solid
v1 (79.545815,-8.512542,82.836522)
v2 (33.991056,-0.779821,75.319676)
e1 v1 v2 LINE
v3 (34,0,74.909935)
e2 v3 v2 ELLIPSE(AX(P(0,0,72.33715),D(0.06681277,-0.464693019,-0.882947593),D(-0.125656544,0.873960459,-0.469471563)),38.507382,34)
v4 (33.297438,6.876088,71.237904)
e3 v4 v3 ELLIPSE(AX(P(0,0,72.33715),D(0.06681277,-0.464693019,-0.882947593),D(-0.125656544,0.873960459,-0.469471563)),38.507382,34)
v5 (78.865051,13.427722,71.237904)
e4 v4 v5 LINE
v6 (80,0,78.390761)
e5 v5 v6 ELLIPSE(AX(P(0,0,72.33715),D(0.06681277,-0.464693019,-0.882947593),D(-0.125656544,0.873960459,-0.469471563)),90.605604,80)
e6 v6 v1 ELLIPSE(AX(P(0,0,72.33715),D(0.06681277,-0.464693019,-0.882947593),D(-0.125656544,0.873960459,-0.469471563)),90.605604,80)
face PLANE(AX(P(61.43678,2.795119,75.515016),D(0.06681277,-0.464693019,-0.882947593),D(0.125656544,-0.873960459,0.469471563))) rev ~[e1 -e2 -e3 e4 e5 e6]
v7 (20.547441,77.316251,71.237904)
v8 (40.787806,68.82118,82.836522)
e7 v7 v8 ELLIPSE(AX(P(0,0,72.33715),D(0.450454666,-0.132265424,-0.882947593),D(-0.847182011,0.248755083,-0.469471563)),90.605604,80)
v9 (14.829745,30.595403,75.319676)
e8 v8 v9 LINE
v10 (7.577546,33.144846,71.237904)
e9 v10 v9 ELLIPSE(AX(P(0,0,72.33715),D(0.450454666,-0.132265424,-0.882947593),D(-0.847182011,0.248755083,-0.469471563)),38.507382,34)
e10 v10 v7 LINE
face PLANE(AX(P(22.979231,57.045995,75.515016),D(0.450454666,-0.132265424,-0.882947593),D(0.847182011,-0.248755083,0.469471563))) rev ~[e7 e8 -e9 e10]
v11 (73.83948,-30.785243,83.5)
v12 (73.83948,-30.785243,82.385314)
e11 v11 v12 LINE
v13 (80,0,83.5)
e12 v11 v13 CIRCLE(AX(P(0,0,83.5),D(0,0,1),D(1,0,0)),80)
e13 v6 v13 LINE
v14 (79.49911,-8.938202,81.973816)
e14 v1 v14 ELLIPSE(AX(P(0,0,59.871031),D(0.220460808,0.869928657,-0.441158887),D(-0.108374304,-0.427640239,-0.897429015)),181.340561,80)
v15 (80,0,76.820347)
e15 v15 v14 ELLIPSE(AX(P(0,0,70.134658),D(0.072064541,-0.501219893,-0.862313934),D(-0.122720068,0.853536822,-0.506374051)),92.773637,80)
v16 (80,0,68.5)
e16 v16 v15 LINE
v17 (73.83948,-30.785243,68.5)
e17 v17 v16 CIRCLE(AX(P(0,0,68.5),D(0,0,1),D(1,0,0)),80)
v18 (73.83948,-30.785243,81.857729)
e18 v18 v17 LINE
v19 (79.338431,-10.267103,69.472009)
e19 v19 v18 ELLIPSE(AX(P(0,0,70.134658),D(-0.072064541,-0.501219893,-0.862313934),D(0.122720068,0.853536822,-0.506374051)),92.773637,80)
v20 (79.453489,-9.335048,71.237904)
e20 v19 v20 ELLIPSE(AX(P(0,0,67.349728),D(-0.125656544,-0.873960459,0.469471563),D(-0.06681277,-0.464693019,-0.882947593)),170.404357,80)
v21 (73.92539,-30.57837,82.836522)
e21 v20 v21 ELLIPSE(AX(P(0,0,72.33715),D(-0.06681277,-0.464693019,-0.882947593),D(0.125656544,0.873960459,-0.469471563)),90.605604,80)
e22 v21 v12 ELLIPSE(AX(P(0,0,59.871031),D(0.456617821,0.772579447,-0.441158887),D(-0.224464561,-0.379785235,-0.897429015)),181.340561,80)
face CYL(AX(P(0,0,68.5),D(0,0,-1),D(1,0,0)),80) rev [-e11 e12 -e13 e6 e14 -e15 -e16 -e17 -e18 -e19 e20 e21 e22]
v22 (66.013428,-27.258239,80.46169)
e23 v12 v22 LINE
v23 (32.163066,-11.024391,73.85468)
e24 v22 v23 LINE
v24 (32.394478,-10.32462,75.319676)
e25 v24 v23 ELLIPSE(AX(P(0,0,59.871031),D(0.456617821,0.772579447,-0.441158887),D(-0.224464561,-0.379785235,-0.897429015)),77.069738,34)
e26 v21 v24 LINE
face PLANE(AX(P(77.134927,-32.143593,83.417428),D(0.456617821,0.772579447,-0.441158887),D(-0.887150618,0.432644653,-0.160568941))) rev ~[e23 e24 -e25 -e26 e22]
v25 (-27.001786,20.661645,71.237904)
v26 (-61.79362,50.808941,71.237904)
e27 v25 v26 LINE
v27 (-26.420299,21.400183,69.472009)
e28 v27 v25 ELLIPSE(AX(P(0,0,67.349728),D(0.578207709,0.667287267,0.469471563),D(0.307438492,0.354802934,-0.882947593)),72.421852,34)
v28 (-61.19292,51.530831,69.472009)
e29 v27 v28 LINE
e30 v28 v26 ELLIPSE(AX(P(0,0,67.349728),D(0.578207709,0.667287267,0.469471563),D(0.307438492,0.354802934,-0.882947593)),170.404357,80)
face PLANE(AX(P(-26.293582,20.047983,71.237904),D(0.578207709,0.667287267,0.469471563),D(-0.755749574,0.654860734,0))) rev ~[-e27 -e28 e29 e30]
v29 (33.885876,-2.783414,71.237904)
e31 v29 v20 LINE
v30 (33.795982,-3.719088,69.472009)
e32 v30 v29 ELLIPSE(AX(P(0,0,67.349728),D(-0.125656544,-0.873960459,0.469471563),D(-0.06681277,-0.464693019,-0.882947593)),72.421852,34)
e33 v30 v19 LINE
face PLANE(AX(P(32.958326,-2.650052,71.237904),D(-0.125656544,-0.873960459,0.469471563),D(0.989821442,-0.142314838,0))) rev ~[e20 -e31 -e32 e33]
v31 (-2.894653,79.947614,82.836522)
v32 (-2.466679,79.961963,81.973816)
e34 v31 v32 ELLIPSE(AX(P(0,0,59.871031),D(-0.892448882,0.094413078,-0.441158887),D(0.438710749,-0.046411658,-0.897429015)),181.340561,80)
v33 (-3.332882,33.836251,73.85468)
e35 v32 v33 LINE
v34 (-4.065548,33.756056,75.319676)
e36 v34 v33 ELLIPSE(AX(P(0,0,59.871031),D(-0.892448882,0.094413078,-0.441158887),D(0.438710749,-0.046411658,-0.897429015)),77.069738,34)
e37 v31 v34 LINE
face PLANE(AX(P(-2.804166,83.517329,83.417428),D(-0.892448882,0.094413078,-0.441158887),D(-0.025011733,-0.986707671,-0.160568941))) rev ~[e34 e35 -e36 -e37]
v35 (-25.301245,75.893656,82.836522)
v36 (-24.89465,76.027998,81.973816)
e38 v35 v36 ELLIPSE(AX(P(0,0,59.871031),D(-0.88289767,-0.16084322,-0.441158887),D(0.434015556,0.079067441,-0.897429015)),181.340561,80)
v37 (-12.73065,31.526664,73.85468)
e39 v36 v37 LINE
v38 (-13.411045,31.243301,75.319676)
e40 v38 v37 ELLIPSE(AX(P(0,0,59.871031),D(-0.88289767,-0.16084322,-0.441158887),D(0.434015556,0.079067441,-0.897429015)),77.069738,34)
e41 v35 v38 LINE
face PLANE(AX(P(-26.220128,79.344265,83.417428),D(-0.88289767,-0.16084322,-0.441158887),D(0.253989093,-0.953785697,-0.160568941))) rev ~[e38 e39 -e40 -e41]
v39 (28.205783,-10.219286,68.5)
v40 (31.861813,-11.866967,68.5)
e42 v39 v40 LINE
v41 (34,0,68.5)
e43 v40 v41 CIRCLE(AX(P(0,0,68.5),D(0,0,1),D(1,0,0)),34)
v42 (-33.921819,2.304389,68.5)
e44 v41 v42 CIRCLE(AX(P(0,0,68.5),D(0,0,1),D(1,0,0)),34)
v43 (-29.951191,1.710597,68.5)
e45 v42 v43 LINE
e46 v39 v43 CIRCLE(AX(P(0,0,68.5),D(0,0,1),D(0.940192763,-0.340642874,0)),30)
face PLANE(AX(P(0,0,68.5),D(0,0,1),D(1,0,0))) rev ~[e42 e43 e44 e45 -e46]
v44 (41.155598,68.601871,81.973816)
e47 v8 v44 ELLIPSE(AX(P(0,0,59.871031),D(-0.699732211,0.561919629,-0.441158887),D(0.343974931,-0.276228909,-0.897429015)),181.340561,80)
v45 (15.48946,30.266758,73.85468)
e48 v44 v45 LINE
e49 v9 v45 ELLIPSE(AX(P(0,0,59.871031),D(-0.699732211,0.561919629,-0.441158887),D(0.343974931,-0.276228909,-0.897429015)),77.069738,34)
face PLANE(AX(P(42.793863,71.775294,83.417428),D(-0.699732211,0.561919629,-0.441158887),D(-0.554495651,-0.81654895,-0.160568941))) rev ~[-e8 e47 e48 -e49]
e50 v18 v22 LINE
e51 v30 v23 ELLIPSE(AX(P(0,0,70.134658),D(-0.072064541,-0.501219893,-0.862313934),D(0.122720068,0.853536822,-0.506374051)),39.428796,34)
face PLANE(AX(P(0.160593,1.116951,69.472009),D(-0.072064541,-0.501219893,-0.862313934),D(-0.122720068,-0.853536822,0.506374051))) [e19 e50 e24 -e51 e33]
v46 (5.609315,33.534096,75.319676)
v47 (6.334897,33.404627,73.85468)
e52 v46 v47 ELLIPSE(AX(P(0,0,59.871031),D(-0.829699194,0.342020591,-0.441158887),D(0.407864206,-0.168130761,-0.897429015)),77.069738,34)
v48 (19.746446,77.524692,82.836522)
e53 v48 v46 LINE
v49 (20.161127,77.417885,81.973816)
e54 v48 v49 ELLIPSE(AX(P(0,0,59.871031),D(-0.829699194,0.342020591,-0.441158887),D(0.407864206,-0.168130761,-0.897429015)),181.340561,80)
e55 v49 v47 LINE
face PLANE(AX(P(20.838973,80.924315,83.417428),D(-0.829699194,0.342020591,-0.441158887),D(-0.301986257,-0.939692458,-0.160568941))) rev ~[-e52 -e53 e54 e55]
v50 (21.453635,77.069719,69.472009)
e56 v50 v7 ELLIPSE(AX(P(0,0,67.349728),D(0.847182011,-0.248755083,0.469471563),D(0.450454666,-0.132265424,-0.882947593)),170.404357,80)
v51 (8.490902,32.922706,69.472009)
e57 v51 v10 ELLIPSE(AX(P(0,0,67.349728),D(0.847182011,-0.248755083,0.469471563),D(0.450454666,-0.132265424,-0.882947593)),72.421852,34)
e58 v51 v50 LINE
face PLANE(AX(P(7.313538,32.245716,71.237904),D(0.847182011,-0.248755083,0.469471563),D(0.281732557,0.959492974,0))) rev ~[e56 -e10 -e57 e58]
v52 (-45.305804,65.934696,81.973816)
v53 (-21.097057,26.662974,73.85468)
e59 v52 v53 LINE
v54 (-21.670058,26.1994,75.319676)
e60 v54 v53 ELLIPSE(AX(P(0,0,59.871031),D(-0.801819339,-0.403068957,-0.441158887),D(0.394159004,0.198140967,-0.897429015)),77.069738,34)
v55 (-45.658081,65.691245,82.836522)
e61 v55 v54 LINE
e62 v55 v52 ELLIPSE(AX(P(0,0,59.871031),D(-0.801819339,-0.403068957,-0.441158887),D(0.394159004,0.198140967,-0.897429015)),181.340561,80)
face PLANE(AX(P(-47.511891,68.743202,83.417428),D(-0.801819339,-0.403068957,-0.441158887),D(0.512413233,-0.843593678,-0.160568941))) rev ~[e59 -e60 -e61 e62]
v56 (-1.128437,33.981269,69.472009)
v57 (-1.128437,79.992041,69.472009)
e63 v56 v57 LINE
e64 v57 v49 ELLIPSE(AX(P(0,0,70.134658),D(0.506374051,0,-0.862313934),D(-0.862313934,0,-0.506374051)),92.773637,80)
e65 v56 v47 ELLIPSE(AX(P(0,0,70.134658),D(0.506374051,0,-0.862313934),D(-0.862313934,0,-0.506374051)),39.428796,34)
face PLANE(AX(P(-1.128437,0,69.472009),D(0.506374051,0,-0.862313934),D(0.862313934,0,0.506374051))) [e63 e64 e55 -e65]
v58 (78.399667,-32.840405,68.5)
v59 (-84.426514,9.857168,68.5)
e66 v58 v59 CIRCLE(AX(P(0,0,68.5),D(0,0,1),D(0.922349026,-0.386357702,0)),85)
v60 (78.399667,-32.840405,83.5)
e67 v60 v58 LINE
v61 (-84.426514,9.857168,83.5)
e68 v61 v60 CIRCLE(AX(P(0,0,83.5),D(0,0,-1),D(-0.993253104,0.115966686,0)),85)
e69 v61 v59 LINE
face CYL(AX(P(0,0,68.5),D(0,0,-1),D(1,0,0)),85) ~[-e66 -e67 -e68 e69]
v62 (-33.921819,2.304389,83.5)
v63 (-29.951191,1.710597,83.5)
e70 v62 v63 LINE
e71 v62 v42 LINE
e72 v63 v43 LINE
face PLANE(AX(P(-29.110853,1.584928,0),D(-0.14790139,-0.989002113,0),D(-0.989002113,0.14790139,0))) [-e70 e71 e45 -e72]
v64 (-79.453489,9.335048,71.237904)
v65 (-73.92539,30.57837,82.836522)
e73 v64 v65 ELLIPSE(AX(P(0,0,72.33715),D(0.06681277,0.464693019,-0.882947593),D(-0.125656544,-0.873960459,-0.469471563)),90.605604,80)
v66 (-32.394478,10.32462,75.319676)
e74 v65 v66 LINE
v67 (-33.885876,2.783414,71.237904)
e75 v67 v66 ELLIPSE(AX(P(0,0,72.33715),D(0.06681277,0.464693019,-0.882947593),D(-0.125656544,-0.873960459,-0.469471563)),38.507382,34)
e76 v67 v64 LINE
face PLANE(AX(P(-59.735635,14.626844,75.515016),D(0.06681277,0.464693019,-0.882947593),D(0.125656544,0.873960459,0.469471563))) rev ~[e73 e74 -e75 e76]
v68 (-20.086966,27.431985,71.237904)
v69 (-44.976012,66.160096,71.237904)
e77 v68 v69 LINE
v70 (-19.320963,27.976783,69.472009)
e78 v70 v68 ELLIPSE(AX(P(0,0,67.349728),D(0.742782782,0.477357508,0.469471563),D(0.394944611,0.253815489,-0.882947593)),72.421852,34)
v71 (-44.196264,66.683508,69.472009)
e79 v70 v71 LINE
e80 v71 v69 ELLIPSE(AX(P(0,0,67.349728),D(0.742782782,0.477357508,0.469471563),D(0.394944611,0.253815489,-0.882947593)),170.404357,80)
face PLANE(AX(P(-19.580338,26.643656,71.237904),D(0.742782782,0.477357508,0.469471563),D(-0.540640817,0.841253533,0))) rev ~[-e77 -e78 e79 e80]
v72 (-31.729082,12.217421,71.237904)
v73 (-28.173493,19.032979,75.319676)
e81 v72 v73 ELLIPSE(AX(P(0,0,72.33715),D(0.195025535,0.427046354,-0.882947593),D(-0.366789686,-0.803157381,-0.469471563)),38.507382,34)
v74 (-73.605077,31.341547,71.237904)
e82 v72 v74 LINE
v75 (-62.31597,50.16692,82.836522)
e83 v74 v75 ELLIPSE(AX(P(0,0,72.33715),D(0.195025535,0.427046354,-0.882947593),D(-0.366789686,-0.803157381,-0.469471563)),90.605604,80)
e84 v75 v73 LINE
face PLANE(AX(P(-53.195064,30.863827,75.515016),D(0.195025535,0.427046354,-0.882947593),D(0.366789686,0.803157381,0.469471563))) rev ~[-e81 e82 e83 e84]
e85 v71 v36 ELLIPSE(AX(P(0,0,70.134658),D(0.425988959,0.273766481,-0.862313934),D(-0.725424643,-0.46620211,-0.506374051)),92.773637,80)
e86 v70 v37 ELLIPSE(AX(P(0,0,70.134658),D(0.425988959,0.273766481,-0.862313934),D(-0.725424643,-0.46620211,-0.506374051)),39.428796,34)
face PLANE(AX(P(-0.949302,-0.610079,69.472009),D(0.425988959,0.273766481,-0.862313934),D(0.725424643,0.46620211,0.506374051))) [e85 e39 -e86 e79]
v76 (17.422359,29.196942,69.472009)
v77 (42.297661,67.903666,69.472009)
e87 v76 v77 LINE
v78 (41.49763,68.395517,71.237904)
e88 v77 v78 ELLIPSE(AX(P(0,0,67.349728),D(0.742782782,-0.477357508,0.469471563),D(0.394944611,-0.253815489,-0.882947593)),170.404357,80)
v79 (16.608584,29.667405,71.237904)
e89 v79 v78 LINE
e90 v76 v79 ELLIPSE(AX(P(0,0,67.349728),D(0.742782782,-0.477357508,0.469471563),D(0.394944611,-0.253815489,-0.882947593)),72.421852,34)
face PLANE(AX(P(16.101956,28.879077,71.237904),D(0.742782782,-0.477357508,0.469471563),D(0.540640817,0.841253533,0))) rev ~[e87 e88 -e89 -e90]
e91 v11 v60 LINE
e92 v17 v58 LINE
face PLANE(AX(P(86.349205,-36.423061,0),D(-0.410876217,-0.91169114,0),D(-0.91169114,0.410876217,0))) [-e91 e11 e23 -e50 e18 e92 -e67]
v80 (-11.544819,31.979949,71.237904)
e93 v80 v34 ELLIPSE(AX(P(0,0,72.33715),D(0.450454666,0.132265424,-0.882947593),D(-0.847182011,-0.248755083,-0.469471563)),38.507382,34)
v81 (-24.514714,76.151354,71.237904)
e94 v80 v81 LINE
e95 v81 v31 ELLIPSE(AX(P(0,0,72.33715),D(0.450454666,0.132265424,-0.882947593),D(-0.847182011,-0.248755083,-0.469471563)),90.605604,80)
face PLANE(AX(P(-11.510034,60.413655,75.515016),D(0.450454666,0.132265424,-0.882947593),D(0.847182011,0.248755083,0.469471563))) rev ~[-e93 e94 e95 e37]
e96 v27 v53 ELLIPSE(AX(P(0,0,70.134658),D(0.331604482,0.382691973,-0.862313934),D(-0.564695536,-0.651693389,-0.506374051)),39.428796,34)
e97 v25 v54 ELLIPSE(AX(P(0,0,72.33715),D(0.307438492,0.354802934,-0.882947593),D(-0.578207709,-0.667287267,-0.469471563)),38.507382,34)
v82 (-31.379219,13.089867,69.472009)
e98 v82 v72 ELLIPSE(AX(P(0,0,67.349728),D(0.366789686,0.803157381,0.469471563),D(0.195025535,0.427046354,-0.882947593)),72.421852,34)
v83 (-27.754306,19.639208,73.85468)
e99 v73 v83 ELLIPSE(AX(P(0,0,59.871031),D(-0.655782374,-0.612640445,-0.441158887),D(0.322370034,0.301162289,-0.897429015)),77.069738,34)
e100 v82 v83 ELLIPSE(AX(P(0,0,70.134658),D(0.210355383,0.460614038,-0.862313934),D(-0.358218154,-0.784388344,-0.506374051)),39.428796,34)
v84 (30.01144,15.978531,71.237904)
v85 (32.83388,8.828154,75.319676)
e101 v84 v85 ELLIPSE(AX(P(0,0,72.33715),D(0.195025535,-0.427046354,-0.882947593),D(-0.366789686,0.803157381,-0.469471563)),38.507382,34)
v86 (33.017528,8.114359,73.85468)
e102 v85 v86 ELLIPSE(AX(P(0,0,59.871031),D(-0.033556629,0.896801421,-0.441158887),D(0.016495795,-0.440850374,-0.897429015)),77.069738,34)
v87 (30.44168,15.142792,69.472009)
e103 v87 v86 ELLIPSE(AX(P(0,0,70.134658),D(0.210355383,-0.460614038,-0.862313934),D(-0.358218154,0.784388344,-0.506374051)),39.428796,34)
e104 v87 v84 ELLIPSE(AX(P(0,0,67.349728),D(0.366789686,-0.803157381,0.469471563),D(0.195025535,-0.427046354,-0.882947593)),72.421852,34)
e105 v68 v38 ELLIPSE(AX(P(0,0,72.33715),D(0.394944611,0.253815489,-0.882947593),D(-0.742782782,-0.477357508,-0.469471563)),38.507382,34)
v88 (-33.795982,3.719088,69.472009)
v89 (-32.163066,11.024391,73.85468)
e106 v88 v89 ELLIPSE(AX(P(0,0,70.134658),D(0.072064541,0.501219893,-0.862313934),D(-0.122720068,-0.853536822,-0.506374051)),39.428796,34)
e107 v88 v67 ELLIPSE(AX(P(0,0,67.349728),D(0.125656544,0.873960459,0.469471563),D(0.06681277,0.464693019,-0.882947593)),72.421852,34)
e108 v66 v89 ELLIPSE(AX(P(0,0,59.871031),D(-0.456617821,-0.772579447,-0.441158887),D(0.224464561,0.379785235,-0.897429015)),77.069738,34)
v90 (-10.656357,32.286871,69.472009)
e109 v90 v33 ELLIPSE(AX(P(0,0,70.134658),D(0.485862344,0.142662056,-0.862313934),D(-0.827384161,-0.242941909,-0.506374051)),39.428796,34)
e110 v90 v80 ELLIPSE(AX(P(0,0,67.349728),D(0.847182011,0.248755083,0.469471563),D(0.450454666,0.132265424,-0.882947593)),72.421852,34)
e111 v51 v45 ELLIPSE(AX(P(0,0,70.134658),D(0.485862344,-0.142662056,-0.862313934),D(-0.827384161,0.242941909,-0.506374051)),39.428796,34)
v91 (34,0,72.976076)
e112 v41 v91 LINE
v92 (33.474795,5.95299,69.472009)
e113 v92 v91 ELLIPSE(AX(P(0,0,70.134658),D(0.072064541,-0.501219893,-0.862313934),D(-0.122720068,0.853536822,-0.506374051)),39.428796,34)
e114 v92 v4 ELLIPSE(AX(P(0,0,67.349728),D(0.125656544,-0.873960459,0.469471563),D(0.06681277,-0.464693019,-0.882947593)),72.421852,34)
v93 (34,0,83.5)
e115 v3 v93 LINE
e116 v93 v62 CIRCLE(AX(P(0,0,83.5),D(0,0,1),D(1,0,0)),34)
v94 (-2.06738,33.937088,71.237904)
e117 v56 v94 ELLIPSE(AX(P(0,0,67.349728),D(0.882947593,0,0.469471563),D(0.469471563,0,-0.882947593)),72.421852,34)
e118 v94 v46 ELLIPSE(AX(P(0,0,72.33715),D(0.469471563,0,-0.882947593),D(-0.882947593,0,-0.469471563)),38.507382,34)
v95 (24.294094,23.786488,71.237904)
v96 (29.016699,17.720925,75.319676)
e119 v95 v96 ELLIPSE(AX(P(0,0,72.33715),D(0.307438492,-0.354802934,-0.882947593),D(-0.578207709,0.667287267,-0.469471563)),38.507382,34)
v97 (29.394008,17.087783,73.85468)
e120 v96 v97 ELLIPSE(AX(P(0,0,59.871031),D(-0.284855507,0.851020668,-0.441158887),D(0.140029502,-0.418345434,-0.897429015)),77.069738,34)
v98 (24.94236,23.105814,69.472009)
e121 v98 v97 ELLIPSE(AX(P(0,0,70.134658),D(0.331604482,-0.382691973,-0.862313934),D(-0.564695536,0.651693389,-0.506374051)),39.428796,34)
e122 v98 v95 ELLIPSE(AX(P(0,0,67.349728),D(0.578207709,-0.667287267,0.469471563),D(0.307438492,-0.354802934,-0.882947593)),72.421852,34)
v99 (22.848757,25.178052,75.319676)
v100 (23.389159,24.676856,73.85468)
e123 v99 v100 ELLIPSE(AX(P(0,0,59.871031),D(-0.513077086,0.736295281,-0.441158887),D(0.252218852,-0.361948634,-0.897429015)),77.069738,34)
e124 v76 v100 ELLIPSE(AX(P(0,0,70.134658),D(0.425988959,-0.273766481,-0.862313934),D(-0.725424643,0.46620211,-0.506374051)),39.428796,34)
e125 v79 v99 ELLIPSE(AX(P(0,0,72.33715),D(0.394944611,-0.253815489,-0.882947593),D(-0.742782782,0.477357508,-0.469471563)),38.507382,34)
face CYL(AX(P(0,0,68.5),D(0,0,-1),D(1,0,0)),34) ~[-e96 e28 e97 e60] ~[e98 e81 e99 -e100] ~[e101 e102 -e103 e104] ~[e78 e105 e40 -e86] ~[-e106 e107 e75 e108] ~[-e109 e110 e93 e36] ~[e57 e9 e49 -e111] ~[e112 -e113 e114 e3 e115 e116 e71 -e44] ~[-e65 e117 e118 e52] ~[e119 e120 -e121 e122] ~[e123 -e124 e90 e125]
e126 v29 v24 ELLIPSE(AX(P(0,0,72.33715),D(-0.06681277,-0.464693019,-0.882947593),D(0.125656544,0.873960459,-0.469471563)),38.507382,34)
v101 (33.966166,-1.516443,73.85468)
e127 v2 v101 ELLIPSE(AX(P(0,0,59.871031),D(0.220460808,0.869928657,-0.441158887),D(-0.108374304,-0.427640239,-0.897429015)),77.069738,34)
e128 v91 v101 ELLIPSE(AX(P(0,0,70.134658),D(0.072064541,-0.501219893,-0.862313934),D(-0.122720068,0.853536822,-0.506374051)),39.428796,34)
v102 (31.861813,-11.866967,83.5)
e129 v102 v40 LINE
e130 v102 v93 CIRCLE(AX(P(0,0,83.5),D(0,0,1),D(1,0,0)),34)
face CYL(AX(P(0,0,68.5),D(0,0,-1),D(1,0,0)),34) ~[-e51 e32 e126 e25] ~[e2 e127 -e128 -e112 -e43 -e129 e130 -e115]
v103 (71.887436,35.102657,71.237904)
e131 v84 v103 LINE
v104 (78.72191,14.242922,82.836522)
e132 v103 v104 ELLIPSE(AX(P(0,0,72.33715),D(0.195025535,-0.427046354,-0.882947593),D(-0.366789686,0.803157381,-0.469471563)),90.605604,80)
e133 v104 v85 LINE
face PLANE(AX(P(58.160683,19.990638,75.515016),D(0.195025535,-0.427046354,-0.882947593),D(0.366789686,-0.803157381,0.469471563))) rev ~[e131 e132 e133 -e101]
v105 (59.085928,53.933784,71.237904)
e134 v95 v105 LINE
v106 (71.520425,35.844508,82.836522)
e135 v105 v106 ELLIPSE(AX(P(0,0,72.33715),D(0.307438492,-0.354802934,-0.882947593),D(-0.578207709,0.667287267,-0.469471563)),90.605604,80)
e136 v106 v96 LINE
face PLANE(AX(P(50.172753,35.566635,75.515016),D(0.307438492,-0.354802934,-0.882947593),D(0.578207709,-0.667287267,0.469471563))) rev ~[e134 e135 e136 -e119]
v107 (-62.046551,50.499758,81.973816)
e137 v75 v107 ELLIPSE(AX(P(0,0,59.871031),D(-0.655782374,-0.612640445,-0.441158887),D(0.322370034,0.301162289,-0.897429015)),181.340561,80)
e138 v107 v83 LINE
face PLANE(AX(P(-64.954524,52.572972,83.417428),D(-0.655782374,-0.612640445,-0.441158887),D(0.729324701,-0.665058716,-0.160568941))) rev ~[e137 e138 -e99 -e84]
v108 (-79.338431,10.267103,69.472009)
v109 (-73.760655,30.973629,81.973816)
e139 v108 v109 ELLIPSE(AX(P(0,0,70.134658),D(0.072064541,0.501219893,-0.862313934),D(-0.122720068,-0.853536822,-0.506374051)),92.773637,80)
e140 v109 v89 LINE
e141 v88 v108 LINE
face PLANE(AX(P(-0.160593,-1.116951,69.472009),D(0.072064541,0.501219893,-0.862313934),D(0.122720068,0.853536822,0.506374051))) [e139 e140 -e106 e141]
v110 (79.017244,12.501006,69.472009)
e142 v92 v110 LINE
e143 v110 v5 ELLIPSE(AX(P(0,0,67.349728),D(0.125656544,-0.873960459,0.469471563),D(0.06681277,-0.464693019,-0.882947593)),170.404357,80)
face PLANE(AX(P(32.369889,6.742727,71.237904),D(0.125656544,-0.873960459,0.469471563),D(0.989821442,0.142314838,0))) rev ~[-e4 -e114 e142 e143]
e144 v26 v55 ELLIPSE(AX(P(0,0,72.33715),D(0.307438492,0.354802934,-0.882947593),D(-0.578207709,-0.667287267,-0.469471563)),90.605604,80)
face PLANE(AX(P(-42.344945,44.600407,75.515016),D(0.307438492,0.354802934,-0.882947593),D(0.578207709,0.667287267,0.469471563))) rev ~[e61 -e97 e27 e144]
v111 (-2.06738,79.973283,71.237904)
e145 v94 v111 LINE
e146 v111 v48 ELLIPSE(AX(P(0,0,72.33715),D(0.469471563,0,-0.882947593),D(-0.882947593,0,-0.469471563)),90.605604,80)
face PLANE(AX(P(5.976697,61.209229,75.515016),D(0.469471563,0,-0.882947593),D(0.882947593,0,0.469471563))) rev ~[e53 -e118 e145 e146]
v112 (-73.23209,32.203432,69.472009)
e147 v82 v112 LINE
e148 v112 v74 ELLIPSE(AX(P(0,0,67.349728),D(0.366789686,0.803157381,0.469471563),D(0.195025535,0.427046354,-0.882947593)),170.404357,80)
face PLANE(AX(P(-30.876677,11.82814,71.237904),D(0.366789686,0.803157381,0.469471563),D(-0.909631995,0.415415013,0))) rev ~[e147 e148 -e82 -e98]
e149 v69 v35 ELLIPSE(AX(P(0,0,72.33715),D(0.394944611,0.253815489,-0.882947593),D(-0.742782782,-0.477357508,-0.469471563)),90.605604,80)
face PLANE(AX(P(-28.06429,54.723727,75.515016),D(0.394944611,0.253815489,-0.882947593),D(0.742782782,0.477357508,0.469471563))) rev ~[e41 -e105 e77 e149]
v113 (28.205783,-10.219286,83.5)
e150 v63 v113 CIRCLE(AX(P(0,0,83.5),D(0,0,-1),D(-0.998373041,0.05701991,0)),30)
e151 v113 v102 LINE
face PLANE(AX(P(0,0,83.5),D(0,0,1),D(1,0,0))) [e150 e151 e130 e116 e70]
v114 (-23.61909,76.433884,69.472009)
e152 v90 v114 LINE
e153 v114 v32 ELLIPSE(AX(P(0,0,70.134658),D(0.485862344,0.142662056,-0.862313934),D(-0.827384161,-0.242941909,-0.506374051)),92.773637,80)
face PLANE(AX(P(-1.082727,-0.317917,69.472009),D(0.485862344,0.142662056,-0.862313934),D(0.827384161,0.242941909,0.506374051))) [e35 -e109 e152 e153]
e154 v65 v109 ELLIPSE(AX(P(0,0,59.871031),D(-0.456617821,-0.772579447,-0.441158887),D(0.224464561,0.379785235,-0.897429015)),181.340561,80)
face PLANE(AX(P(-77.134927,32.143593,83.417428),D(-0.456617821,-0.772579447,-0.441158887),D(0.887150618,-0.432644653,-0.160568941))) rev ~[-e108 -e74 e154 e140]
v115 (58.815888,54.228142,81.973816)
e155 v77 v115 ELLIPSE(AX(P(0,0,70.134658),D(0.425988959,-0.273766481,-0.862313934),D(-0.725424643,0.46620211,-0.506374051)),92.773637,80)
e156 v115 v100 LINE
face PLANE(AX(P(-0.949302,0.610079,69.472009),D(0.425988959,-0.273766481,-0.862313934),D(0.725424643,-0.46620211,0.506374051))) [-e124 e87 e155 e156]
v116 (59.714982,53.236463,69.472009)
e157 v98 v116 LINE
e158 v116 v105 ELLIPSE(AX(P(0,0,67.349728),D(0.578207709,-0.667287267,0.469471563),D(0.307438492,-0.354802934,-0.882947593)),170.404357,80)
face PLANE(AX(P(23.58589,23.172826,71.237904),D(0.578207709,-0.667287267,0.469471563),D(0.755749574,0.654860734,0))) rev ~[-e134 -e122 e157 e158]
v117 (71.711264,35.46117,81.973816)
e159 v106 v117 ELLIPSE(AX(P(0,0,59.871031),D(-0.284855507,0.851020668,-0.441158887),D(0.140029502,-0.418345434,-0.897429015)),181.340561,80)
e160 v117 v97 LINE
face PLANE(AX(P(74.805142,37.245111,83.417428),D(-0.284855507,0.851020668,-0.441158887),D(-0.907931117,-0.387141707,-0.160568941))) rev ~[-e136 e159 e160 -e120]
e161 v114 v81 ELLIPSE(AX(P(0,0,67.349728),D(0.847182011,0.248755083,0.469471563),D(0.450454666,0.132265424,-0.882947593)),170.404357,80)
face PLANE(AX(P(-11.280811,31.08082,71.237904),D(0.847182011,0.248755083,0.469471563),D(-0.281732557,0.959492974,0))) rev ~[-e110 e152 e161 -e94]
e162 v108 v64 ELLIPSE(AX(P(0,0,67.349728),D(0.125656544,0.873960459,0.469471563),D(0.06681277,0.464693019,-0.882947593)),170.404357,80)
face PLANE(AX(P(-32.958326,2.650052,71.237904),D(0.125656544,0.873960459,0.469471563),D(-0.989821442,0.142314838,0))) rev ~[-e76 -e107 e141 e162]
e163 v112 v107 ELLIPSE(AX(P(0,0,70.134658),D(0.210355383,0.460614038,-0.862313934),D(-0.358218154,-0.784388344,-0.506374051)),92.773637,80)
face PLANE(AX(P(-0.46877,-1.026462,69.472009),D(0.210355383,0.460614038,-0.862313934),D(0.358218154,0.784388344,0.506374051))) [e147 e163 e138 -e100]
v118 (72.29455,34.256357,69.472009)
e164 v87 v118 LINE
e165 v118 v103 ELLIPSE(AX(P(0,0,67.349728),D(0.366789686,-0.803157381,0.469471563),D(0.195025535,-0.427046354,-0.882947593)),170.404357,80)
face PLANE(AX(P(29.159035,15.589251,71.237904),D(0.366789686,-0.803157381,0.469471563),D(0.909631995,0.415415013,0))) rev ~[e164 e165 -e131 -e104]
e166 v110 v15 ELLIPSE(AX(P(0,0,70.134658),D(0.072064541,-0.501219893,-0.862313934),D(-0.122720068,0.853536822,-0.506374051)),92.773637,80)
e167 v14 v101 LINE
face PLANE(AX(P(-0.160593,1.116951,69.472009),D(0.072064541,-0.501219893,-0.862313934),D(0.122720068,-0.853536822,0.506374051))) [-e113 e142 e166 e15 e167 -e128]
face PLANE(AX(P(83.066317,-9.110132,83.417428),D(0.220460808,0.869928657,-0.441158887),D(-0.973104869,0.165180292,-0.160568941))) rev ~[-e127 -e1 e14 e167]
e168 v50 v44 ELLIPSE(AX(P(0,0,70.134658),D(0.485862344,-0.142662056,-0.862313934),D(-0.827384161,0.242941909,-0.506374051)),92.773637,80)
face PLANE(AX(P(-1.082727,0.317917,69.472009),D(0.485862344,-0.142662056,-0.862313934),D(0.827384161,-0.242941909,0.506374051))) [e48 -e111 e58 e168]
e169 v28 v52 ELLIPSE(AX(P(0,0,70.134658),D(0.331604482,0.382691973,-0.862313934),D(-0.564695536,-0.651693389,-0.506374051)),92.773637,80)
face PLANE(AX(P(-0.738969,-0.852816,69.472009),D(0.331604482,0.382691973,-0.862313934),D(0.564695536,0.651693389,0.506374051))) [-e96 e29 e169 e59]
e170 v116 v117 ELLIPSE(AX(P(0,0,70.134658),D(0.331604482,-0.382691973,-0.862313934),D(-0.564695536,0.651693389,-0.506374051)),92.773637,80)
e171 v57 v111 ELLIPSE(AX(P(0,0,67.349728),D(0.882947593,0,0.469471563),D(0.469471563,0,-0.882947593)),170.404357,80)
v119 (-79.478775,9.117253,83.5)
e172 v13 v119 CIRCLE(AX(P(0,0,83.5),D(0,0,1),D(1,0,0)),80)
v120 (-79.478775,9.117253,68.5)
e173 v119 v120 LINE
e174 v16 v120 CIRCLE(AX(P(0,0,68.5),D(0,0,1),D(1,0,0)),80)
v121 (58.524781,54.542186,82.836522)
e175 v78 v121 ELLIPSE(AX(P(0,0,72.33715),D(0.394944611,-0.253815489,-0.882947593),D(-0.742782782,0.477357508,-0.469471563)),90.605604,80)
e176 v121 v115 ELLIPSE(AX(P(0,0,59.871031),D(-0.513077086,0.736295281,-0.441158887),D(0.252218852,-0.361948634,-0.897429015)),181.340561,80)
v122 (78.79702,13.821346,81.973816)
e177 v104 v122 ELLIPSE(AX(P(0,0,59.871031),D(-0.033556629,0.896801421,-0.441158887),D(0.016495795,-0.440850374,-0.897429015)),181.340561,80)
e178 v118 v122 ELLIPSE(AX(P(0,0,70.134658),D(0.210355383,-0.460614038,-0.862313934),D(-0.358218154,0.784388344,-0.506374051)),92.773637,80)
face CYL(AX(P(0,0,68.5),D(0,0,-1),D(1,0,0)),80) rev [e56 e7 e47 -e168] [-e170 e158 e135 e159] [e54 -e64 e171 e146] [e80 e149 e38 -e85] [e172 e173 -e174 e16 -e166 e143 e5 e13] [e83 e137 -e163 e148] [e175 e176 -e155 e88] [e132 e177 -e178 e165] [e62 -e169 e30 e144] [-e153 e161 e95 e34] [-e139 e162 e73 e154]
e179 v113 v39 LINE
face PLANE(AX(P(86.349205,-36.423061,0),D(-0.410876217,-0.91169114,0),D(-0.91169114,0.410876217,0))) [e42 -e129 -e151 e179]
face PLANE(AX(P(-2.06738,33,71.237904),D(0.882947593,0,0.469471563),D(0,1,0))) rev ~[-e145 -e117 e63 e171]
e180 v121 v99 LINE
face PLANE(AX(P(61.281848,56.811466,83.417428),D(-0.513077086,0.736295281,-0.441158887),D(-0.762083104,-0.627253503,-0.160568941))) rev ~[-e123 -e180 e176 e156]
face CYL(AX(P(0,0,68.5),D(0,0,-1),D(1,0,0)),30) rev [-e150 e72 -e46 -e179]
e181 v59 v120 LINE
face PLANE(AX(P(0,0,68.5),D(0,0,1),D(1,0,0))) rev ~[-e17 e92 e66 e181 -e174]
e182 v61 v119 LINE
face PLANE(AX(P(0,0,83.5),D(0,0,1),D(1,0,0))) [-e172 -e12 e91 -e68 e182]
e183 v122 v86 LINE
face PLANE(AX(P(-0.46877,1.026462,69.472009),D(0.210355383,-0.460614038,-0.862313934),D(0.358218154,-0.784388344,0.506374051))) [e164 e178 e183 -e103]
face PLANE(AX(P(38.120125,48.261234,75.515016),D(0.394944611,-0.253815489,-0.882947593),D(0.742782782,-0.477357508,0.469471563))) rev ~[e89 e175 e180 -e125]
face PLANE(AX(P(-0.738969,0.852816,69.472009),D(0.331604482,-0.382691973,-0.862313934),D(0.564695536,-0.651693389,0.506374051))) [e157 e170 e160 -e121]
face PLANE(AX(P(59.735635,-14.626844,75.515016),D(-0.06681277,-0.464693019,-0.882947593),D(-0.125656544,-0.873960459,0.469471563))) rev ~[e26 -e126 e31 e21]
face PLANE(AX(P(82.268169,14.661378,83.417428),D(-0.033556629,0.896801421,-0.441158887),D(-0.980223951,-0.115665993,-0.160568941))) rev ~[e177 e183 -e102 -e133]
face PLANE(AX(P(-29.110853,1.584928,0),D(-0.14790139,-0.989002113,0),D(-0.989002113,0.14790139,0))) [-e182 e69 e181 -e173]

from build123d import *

# Parameters (mm, degrees)
PAD037_DEPTH              = 200
TUBE039_R                 = 100
TUBE039_R_2               = 80
TUBE039_DEPTH             = 200
PAD038_DEPTH              = 100
PAD039_DEPTH              = 2
COMMON018_PLACEMENT_ANGLE = 28
ARRAY016_COUNT            = 22
ARRAY016_PLACEMENT_ANGLE  = 180
TUBE040_R                 = 85
TUBE040_R_2               = 80
TUBE040_DEPTH             = 15
TUBE041_R                 = 34
TUBE041_R_2               = 30
TUBE041_DEPTH             = 15


with BuildPart() as body038:
    # Sketch037 → Pad037 (new body)
    with BuildSketch(Plane.XY):
        Polygon((-29.110853, 1.584928), (-96.197479, 11.61747), (-96.197479, -126.516327), (86.349205, -133.978043), (86.349205, -36.423061), (25.978256, -9.215396), align=None)
    extrude(amount=PAD037_DEPTH)


with BuildPart() as tube039:
    # Tube039 → Tube039 (new body)
    with BuildSketch(Plane.XY):
        Circle(TUBE039_R)
        Circle(TUBE039_R_2, mode=Mode.SUBTRACT)
    extrude(amount=TUBE039_DEPTH)


with BuildPart() as body039:
    # Sketch038 → Pad038 (new body)
    with BuildSketch(Plane.XZ):
        Polygon((0, 0), (0, 2), (26, 0.9), (26, 0), align=None)
    extrude(amount=PAD038_DEPTH)


with BuildPart() as body039_1:
    # Body039 placement: moved
    add(body039.part.moved(Location((-5, 0, 5))))


with BuildPart() as cut012:
    # Sketch039 → Pad039 (new body)
    with BuildSketch(Plane.XY):
        Polygon((0, 0), (0, -52), (25.94305, -47.924315), (8.5, 0), align=None)
    extrude(amount=PAD039_DEPTH)


with BuildPart() as cut012_1:
    # Body040 placement: moved
    add(cut012.part.moved(Location((-5, -33, 5))))

    # Common018: intersect Body039
    add(body039_1.part, mode=Mode.INTERSECT)


with BuildPart() as cut012_2:
    # Common018 placement: moved
    add(cut012_1.part.rotate(Axis((0, 0, 0), (0, 1, 0)), COMMON018_PLACEMENT_ANGLE))

    # Array016: Cut012 ×22 about axis
    array016_axis = Axis((0, 0, 0), (0, 0, 1))


with BuildPart() as cut012_3:
    add(cut012_2.part)
    for i in range(1, ARRAY016_COUNT):
        add(cut012_2.part.rotate(array016_axis, i * 360 / ARRAY016_COUNT))


with BuildPart() as cut012_4:
    # Array016 placement: moved
    add(cut012_3.part.moved(Location((0, 0, 78))).rotate(Axis((0, 0, 78), (0, 1, 0)), ARRAY016_PLACEMENT_ANGLE))

    # Cut012: cut Tube039
    add(tube039.part, mode=Mode.SUBTRACT)


with BuildPart() as tube040:
    # Tube040 → Tube040 (new body)
    with BuildSketch(Plane.XY.offset(68.5)):
        Circle(TUBE040_R)
        Circle(TUBE040_R_2, mode=Mode.SUBTRACT)
    extrude(amount=TUBE040_DEPTH)


with BuildPart() as stator2h2:
    # Tube041 → Tube041 (new body)
    with BuildSketch(Plane.XY.offset(68.5)):
        Circle(TUBE041_R)
        Circle(TUBE041_R_2, mode=Mode.SUBTRACT)
    extrude(amount=TUBE041_DEPTH)

    # Fusion018: union Cut012, Tube040
    add(cut012_4.part)
    add(tube040.part)

    # Cut013: cut Body038
    add(body038.part, mode=Mode.SUBTRACT)


solid = stator2h2.part
